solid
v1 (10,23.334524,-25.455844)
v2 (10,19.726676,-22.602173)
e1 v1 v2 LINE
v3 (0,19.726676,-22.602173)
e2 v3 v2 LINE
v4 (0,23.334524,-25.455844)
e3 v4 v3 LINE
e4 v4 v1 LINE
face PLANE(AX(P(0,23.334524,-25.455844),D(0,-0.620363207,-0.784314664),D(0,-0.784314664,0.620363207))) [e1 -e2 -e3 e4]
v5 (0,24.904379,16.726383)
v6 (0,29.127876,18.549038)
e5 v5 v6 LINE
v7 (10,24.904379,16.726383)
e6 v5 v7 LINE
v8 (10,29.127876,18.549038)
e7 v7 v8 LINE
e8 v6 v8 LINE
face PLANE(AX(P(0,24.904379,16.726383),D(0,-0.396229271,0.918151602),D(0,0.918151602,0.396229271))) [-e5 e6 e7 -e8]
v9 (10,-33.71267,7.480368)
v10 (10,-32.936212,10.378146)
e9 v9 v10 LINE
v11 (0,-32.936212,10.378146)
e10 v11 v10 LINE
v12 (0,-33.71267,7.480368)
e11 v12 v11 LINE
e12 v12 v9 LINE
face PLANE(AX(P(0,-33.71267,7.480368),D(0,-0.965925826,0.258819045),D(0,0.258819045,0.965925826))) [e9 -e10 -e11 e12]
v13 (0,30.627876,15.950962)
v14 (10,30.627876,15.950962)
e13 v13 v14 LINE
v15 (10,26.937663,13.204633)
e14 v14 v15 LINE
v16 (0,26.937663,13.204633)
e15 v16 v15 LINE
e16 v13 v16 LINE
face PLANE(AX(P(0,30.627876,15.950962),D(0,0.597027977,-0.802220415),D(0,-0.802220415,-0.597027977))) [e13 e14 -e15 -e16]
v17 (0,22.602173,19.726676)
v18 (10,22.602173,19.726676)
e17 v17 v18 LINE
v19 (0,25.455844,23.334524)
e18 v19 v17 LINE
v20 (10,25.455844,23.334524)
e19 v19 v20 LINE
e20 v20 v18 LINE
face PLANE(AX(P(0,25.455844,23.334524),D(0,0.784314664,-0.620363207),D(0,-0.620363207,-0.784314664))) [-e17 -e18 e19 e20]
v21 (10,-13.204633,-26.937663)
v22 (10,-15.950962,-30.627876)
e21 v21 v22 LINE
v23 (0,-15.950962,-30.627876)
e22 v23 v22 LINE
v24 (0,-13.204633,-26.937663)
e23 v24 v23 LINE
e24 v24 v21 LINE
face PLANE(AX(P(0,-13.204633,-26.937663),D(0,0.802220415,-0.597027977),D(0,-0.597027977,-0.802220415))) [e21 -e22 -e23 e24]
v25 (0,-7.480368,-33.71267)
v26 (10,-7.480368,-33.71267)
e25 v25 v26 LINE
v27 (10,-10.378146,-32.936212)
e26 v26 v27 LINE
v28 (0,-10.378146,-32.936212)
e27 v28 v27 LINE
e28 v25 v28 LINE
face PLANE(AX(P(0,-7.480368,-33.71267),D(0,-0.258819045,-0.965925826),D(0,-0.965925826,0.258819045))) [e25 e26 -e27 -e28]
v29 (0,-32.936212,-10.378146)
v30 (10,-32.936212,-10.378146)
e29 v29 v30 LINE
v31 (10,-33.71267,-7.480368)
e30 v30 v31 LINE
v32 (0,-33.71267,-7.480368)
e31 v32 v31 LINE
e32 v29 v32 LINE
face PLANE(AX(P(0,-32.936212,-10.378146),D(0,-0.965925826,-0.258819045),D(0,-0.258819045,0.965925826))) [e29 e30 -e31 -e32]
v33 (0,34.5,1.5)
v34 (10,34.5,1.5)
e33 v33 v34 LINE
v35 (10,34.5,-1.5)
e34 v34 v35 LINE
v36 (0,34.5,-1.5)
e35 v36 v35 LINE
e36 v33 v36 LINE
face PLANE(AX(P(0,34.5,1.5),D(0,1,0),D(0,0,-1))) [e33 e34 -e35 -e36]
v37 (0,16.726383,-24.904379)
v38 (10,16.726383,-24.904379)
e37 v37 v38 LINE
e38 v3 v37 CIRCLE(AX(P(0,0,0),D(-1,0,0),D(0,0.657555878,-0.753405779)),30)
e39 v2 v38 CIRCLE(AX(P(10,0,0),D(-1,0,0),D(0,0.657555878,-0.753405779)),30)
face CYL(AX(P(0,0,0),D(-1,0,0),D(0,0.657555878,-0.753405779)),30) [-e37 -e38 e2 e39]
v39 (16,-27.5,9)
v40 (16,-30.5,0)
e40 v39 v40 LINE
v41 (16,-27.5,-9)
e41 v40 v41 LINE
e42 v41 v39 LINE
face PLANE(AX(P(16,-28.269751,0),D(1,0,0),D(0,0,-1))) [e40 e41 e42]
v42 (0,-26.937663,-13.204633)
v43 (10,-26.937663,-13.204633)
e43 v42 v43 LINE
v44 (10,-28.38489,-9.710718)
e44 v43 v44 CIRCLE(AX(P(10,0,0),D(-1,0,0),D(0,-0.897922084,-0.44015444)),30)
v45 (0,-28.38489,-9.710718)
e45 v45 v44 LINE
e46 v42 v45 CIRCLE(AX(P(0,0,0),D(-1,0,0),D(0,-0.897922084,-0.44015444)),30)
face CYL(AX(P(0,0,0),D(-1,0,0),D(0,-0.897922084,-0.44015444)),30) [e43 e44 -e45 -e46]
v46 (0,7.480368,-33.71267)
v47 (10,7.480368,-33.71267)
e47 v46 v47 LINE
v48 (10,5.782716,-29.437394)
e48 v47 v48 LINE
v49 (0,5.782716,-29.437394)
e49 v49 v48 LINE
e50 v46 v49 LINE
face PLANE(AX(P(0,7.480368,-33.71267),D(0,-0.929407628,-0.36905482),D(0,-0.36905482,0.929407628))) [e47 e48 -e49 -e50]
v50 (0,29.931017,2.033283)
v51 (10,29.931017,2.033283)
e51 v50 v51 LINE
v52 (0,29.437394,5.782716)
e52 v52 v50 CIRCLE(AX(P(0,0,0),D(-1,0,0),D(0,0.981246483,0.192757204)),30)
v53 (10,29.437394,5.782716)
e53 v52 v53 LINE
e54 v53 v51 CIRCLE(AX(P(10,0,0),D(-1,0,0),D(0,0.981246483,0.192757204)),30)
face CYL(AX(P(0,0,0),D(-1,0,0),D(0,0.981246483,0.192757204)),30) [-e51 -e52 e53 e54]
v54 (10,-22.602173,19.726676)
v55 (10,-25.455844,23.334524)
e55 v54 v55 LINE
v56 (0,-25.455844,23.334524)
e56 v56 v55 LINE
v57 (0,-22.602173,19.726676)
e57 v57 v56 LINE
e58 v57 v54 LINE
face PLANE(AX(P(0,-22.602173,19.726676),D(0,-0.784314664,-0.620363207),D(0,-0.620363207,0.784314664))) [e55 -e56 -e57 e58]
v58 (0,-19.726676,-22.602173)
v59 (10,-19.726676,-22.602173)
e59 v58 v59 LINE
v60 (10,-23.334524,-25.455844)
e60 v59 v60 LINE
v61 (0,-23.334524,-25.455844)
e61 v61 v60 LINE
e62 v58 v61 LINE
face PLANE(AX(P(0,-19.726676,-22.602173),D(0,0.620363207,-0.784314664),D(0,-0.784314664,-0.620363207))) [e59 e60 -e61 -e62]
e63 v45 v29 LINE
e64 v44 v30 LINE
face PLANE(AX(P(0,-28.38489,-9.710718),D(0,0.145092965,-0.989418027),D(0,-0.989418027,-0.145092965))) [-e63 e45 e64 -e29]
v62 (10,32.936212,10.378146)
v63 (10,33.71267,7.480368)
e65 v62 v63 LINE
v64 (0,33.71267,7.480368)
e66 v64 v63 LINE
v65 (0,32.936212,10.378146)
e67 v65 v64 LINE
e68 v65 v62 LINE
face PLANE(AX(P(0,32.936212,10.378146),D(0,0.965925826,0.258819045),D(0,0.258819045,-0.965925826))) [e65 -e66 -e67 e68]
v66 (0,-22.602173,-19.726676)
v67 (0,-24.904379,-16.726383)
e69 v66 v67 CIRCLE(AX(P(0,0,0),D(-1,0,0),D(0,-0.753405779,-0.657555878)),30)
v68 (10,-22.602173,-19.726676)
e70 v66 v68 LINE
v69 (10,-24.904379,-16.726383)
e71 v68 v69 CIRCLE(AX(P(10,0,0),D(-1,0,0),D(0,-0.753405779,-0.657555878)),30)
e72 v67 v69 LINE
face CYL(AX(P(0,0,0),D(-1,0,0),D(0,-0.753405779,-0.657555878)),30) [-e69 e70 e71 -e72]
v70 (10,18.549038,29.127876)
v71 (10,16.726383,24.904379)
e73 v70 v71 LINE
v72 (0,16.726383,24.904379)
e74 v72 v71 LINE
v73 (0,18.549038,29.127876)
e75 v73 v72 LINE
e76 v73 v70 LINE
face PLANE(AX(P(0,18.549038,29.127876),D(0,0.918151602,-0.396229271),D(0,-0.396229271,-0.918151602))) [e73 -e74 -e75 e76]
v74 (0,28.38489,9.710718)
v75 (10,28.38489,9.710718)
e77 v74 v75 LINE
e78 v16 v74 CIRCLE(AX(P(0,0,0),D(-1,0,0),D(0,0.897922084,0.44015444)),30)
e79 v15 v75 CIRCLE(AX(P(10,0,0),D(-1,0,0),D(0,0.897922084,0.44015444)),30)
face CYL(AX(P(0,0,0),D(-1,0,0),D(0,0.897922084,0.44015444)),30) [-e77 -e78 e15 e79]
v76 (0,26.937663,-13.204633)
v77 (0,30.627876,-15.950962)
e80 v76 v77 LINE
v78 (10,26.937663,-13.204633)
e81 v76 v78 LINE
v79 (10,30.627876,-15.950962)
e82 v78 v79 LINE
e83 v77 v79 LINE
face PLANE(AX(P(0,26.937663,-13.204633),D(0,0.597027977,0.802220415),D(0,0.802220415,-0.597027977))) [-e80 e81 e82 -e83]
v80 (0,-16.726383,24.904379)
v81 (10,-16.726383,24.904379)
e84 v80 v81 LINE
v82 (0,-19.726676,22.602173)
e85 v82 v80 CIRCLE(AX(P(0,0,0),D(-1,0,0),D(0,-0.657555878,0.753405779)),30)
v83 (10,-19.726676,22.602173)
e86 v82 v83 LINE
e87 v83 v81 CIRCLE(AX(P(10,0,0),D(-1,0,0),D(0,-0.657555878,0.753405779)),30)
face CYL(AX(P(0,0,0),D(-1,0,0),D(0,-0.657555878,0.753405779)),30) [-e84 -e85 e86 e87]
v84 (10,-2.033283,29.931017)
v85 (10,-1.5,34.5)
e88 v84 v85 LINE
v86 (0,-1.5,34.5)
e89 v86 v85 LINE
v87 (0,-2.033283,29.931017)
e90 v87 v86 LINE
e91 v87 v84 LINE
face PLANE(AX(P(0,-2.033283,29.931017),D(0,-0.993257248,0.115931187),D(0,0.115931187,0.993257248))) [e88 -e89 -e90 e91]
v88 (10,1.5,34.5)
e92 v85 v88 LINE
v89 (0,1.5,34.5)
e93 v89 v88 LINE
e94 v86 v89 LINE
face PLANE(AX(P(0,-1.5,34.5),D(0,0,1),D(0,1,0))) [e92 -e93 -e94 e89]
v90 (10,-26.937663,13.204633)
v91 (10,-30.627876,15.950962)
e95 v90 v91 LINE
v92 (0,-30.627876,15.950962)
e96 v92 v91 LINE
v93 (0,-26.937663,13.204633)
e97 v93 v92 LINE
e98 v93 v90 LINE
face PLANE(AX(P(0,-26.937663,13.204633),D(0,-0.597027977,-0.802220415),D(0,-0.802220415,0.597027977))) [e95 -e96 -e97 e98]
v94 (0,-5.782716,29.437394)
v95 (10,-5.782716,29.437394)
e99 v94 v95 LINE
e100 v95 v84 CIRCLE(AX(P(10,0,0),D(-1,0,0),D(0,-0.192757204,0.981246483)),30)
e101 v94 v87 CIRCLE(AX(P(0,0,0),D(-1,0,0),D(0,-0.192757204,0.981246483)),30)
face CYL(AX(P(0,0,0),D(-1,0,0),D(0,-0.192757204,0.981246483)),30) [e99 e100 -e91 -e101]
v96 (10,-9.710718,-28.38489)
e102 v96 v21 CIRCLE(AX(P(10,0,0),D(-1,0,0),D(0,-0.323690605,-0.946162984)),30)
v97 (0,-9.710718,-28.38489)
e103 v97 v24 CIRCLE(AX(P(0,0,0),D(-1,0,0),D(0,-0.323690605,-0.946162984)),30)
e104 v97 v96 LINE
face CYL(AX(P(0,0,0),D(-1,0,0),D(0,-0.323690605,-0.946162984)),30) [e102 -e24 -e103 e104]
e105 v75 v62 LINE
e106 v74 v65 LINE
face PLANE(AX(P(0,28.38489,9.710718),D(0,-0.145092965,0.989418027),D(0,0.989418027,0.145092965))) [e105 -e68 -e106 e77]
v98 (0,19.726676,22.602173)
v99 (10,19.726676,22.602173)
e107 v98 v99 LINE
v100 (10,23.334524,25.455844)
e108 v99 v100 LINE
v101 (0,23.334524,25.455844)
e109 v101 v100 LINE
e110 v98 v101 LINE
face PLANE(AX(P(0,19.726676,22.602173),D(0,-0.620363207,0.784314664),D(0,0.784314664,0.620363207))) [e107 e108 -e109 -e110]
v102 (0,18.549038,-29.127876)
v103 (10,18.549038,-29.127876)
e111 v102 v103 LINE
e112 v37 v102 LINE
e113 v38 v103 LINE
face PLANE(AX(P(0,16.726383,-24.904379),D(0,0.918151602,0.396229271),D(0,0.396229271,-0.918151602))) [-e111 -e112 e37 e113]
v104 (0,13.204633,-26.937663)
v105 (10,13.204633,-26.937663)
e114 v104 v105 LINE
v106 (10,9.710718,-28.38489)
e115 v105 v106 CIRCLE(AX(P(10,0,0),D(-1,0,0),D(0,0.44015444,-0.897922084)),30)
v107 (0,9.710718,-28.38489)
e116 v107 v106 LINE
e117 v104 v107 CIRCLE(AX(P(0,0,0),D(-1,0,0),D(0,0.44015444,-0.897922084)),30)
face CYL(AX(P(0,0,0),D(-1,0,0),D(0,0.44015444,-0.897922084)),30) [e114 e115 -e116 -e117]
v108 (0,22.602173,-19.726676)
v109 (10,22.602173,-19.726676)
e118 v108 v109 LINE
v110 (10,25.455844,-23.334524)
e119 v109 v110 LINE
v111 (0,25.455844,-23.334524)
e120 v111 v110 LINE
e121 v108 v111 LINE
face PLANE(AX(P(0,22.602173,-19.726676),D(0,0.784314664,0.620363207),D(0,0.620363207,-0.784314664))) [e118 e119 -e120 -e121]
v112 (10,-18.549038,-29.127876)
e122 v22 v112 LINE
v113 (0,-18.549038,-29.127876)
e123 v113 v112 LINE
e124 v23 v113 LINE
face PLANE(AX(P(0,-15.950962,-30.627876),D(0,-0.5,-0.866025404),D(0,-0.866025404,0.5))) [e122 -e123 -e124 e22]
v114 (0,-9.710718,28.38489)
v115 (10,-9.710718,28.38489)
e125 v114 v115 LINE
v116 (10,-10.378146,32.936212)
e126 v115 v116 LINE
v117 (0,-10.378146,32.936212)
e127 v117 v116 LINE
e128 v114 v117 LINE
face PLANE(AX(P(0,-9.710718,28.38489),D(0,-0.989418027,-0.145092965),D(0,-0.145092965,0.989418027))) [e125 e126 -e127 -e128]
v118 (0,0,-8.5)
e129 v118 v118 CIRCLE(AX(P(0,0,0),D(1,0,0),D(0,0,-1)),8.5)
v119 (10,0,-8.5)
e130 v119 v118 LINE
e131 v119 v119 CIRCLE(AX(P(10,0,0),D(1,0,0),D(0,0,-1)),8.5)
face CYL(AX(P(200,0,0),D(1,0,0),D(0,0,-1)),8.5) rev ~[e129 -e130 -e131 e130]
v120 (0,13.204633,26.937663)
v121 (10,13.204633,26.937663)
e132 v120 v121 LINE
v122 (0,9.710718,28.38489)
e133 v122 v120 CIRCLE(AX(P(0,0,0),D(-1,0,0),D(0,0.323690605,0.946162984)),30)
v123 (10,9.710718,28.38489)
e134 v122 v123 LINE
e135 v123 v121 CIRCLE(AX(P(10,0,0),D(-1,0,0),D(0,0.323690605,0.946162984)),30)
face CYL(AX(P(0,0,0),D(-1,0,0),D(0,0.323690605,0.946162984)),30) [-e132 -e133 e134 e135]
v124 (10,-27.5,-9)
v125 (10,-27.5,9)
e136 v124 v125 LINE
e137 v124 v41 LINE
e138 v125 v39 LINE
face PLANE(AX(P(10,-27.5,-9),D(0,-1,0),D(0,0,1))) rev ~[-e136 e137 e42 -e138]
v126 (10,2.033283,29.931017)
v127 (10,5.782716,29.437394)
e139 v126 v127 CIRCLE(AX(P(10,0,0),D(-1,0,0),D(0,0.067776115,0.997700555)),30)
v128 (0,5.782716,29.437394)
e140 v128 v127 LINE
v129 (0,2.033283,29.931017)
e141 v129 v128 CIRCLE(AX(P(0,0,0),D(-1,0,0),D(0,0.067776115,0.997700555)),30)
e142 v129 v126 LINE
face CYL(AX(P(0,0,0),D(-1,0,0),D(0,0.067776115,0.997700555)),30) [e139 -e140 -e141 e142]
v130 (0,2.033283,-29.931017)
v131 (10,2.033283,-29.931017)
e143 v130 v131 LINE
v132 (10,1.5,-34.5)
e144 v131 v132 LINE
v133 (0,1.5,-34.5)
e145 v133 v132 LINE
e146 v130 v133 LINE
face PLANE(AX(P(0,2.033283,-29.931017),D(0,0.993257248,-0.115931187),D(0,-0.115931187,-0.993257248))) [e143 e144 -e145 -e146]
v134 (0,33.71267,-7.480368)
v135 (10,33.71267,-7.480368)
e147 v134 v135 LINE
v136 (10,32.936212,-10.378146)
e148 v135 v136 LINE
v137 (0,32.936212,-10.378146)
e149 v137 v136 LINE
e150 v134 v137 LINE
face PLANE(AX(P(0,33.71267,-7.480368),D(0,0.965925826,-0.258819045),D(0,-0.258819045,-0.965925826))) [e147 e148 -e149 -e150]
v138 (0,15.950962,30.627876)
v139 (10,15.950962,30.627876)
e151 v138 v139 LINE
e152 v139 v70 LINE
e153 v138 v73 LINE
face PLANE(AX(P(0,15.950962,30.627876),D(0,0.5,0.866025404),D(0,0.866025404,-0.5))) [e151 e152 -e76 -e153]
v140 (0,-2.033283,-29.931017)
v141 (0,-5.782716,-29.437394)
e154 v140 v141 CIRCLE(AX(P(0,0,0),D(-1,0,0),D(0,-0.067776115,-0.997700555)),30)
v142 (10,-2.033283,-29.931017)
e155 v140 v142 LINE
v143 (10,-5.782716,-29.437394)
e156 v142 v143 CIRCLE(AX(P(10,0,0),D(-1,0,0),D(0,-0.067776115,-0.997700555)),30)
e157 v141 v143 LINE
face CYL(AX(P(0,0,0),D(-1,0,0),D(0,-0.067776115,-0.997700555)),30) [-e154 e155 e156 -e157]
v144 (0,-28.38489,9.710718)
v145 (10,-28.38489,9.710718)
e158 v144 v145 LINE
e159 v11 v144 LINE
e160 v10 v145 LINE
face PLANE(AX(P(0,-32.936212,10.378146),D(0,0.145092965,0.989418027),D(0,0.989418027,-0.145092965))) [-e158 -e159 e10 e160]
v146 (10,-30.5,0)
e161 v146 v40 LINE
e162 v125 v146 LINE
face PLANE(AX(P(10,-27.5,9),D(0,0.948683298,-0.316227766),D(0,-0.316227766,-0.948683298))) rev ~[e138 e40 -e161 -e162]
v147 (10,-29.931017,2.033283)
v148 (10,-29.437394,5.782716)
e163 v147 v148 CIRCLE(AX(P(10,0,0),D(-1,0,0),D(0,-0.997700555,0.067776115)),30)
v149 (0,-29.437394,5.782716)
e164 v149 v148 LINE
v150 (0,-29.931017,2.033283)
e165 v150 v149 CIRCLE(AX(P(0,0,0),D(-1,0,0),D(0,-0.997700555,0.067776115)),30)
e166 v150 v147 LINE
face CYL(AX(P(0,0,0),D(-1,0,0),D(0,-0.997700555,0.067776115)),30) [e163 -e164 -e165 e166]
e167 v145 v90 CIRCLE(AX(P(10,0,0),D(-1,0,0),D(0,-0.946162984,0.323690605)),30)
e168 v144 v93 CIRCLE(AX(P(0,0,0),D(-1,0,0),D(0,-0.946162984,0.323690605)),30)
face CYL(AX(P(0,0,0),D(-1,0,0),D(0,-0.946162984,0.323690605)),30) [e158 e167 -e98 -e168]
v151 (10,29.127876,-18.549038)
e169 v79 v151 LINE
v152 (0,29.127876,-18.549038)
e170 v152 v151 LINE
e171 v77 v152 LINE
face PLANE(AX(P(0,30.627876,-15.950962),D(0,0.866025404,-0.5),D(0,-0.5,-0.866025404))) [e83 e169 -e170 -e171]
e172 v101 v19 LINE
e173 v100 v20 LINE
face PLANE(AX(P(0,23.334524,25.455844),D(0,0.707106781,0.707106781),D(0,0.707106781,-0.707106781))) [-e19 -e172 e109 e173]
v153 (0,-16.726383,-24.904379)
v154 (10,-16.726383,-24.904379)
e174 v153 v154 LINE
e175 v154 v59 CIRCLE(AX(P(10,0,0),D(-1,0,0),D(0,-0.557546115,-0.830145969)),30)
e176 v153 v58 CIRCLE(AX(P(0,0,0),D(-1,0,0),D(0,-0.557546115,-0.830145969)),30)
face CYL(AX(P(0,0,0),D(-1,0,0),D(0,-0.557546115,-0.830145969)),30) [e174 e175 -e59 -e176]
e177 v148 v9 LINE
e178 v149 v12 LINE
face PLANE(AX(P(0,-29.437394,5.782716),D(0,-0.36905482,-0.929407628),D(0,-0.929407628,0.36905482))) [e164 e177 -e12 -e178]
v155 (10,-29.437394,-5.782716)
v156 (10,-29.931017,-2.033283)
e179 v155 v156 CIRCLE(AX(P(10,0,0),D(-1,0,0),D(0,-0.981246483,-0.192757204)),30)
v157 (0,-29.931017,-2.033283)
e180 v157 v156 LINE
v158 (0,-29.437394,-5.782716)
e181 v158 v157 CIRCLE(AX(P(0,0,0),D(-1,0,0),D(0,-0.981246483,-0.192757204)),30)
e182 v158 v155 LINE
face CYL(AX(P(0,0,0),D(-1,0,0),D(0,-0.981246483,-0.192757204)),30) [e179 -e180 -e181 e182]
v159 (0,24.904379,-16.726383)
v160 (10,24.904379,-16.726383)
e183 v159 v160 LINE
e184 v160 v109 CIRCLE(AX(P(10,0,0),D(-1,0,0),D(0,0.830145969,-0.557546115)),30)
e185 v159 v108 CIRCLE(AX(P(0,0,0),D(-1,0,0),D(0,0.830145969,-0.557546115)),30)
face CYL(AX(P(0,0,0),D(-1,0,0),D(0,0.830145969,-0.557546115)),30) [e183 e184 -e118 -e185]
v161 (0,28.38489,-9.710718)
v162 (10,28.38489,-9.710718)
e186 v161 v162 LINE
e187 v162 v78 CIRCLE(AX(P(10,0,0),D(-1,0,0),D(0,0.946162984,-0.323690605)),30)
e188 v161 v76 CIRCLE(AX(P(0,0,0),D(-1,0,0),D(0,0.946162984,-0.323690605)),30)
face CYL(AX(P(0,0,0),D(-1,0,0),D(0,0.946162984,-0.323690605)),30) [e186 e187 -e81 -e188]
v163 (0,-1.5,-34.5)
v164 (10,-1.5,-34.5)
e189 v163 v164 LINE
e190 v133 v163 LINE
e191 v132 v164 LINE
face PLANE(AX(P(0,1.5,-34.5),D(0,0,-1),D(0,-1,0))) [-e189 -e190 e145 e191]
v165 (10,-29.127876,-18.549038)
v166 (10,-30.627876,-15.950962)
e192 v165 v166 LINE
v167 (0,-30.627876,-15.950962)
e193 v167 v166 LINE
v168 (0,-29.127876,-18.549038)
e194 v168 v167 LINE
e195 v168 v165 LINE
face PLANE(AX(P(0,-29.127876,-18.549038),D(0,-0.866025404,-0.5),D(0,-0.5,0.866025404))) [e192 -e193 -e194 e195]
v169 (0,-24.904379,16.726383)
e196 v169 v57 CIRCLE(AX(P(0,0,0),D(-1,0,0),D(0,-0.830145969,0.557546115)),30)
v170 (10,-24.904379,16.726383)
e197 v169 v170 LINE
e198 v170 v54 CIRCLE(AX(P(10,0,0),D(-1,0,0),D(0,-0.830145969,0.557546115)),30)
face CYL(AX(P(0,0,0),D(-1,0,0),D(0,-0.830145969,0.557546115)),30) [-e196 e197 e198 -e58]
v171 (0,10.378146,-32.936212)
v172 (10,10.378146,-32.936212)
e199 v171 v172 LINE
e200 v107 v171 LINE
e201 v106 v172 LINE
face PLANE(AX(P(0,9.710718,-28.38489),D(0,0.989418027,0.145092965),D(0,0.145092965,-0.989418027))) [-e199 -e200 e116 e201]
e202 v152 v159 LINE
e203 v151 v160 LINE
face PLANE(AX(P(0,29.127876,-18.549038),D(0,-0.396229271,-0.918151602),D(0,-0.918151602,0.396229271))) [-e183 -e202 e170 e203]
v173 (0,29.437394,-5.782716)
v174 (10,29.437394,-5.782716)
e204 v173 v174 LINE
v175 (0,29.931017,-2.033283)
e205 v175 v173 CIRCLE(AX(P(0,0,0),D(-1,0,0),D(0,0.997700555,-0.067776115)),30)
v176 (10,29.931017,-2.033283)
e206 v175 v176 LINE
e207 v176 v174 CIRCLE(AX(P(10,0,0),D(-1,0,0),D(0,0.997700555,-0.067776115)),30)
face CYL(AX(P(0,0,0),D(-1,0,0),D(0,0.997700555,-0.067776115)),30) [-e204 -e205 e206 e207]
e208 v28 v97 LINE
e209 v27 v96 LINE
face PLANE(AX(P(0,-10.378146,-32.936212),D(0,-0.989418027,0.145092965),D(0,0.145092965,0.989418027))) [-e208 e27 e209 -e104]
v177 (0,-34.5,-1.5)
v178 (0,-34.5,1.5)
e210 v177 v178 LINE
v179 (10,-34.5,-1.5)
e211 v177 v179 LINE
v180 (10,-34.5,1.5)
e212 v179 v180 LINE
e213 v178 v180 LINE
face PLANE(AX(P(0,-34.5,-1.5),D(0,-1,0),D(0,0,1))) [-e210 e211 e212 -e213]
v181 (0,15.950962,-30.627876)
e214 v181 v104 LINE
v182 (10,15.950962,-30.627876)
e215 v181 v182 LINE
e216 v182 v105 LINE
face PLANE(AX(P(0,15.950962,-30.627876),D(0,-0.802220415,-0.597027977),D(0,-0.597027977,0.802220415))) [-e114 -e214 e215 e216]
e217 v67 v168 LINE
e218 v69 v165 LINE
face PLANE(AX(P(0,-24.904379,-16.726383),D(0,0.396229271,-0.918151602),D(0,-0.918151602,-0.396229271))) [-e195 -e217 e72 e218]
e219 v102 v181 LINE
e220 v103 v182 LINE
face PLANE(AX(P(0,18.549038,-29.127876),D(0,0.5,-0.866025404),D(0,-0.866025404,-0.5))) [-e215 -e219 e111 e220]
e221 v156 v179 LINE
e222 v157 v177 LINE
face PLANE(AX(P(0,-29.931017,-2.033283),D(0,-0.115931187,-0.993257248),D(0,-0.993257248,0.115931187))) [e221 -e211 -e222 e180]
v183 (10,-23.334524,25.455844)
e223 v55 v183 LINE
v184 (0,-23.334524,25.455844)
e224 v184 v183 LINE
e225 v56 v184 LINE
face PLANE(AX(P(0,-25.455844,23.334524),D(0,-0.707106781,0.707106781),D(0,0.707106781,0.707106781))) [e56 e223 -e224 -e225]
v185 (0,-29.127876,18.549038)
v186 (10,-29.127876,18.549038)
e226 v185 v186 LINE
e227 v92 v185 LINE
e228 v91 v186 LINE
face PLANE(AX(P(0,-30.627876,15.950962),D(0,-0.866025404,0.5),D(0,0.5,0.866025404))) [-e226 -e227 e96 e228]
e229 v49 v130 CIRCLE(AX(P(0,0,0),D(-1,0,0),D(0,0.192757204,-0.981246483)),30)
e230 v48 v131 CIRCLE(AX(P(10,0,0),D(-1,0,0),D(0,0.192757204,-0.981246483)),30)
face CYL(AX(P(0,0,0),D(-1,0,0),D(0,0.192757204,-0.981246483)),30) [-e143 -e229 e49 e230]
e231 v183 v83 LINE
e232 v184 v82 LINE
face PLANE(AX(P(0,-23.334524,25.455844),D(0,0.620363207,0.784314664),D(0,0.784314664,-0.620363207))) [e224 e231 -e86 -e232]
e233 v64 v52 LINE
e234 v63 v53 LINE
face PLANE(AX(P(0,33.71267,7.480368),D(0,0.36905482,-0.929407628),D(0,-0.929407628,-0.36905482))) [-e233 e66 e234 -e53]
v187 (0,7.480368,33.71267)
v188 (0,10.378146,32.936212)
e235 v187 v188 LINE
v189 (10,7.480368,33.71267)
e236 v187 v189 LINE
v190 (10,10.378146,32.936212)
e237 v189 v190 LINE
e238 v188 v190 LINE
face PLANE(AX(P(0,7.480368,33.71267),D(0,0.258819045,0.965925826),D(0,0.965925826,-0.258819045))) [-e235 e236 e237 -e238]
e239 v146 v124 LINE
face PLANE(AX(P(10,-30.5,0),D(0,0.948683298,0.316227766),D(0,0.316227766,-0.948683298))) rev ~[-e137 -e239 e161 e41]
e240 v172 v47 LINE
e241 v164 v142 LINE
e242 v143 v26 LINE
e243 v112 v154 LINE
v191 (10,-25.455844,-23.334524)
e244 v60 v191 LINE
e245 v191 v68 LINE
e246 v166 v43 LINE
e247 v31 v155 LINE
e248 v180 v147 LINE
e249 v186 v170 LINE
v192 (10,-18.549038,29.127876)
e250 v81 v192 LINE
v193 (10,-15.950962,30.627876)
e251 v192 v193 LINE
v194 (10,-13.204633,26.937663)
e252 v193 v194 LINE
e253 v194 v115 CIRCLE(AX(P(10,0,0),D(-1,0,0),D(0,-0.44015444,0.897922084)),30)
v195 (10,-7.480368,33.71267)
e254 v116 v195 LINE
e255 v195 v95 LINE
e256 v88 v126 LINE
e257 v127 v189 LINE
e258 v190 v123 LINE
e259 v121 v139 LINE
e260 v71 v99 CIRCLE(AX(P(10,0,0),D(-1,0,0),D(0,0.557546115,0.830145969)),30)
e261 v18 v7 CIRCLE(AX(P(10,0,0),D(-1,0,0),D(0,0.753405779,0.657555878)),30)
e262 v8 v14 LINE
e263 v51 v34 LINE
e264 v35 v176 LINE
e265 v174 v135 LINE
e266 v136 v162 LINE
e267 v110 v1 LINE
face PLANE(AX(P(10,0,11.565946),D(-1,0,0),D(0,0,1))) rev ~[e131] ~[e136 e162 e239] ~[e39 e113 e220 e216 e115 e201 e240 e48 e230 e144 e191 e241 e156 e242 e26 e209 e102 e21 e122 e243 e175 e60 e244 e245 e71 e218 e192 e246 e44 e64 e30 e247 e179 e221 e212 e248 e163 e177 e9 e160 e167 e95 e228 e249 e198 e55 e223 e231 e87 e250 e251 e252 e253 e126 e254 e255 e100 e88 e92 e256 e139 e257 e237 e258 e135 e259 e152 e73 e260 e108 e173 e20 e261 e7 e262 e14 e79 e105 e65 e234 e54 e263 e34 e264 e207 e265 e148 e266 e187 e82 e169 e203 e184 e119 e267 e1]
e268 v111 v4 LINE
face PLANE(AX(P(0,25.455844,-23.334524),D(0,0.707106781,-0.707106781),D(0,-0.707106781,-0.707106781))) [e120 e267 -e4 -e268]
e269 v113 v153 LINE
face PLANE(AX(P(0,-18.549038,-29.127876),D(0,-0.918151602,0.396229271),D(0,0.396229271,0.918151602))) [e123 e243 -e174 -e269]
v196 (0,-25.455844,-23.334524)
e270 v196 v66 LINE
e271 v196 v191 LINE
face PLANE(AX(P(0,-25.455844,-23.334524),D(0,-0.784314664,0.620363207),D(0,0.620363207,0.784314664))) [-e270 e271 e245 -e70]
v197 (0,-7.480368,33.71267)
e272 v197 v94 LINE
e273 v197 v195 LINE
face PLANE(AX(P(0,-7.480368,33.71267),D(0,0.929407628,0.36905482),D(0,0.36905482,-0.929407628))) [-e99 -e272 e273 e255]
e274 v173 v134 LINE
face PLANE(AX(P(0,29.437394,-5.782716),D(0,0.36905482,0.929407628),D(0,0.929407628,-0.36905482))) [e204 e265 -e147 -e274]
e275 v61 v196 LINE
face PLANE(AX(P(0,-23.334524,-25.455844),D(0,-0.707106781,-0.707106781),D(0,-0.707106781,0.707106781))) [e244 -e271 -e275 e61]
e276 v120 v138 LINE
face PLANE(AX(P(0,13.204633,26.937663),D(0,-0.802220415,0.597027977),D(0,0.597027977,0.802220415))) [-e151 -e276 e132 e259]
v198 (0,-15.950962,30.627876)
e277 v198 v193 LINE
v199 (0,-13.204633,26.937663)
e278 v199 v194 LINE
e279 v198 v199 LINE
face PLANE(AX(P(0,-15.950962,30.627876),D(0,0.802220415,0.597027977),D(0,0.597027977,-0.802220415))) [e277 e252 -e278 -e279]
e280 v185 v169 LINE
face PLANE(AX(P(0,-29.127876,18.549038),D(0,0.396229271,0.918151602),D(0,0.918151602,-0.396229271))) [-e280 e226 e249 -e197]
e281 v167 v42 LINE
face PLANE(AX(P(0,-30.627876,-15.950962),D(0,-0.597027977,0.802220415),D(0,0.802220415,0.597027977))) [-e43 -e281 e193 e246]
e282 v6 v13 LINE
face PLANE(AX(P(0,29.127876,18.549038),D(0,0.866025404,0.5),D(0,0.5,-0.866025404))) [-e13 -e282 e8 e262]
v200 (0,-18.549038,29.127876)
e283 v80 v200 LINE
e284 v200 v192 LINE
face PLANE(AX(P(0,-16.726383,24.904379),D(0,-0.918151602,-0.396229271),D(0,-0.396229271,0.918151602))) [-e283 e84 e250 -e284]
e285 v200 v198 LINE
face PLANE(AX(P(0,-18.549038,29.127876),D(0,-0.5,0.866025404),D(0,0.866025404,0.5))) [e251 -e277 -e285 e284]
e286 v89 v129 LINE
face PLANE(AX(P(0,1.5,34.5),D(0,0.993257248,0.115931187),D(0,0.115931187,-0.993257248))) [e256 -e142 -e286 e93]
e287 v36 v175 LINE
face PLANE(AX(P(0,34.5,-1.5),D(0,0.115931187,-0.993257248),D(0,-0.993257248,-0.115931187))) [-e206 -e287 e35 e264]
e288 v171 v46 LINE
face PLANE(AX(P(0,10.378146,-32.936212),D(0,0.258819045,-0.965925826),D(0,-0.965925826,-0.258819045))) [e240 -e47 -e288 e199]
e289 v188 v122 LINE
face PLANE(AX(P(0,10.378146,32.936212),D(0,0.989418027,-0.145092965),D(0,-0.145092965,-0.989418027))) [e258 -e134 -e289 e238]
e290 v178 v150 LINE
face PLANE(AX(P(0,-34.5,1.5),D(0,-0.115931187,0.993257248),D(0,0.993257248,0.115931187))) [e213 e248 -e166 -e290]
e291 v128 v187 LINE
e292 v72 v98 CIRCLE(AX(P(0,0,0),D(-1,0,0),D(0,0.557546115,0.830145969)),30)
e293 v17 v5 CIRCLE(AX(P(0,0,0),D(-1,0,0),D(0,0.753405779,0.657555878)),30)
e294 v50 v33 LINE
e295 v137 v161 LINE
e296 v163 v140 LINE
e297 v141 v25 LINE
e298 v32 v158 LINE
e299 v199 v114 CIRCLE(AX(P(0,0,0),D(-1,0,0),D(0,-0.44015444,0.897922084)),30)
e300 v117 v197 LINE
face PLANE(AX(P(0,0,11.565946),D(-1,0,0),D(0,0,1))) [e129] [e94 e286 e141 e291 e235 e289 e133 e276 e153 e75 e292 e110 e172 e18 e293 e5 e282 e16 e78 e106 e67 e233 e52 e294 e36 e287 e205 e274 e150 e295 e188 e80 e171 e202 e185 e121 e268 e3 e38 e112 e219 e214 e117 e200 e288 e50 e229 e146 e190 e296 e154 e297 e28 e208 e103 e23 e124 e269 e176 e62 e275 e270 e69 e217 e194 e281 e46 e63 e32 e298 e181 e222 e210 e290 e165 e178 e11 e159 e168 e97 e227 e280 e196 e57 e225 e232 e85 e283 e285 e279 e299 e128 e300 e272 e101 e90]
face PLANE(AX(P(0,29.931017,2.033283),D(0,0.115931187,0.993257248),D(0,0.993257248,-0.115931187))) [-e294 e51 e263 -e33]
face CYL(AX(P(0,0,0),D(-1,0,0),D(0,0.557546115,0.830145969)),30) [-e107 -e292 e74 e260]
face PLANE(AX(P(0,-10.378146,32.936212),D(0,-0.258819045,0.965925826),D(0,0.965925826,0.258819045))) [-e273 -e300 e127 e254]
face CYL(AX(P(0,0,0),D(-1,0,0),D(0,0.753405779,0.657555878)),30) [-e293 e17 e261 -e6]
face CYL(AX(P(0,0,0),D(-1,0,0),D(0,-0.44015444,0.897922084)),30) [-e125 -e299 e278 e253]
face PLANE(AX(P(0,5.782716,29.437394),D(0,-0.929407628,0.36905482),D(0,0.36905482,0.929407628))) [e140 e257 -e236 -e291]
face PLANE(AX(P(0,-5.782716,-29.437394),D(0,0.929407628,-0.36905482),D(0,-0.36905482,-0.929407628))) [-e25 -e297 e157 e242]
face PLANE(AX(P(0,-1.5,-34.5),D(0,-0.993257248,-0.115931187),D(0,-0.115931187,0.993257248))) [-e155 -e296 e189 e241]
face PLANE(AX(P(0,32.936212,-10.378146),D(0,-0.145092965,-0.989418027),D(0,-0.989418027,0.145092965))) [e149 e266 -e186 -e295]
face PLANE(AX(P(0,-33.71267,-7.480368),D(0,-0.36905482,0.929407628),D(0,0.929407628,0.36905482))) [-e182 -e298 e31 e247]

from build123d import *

# Parameters (mm, degrees)
SKETCH2_R           = 5
BOSS_EXTRUDE1_DEPTH = 100
SKETCH8_R           = 5
BOSS_EXTRUDE3_DEPTH = 10
SKETCH9_R           = 5
BOSS_EXTRUDE4_DEPTH = 100
BOSS_EXTRUDE5_START = 100
SKETCH4_R           = 5
BOSS_EXTRUDE5_DEPTH = 100
SKETCH17_R          = 8.5
CUT_EXTRUDE1_DEPTH  = 305
BOSS_EXTRUDE8_DEPTH = 6


with BuildPart() as part:
    # Sketch2 → Boss-Extrude1 (new body)
    with BuildSketch(Plane(origin=(0, 0, 0), x_dir=(0, 0, -1), z_dir=(1, 0, 0))):
        Circle(SKETCH2_R)
    extrude(amount=BOSS_EXTRUDE1_DEPTH)

    # Sketch8 → Boss-Extrude3 (add)
    with BuildSketch(Plane.ZY):
        with BuildLine():
            ThreePointArc((5.782716145, 29.437394484), (3.915785767, 29.743345841), (2.03328346, 29.931016661))
            Line((2.03328346, 29.931016661), (1.5, 34.5))
            Line((1.5, 34.5), (-1.5, 34.5))
            Line((-1.5, 34.5), (-2.03328346, 29.931016661))
            ThreePointArc((-2.03328346, 29.931016661), (-3.915785767, 29.743345841), (-5.782716145, 29.437394484))
            Line((-5.782716145, 29.437394484), (-7.480368317, 33.712669575))
            Line((-7.480368317, 33.712669575), (-10.378145795, 32.936212439))
            Line((-10.378145795, 32.936212439), (-9.710718158, 28.384889516))
            ThreePointArc((-9.710718158, 28.384889516), (-11.480502971, 27.716385975), (-13.204633201, 26.93766252))
            Line((-13.204633201, 26.93766252), (-15.950961894, 30.627876431))
            Line((-15.950961894, 30.627876431), (-18.549038106, 29.127876431))
            Line((-18.549038106, 29.127876431), (-16.72638346, 24.904379059))
            ThreePointArc((-16.72638346, 24.904379059), (-18.26284287, 23.800600209), (-19.726676326, 22.602173372))
            Line((-19.726676326, 22.602173372), (-23.334523779, 25.455844123))
            Line((-23.334523779, 25.455844123), (-25.455844123, 23.334523779))
            Line((-25.455844123, 23.334523779), (-22.602173372, 19.726676326))
            ThreePointArc((-22.602173372, 19.726676326), (-23.800600209, 18.26284287), (-24.904379059, 16.72638346))
            Line((-24.904379059, 16.72638346), (-29.127876431, 18.549038106))
            Line((-29.127876431, 18.549038106), (-30.627876431, 15.950961894))
            Line((-30.627876431, 15.950961894), (-26.93766252, 13.204633201))
            ThreePointArc((-26.93766252, 13.204633201), (-27.716385975, 11.480502971), (-28.384889516, 9.710718158))
            Line((-28.384889516, 9.710718158), (-32.936212439, 10.378145795))
            Line((-32.936212439, 10.378145795), (-33.712669575, 7.480368317))
            Line((-33.712669575, 7.480368317), (-29.437394484, 5.782716145))
            ThreePointArc((-29.437394484, 5.782716145), (-29.743345841, 3.915785767), (-29.931016661, 2.03328346))
            Line((-29.931016661, 2.03328346), (-34.5, 1.5))
            Line((-34.5, 1.5), (-34.5, -1.5))
            Line((-34.5, -1.5), (-29.931016661, -2.03328346))
            ThreePointArc((-29.931016661, -2.03328346), (-29.743345841, -3.915785767), (-29.437394484, -5.782716145))
            Line((-29.437394484, -5.782716145), (-33.712669575, -7.480368317))
            Line((-33.712669575, -7.480368317), (-32.936212439, -10.378145795))
            Line((-32.936212439, -10.378145795), (-28.384889516, -9.710718158))
            ThreePointArc((-28.384889516, -9.710718158), (-27.716385975, -11.480502971), (-26.93766252, -13.204633201))
            Line((-26.93766252, -13.204633201), (-30.627876431, -15.950961894))
            Line((-30.627876431, -15.950961894), (-29.127876431, -18.549038106))
            Line((-29.127876431, -18.549038106), (-24.904379059, -16.72638346))
            ThreePointArc((-24.904379059, -16.72638346), (-23.800600209, -18.26284287), (-22.602173372, -19.726676326))
            Line((-22.602173372, -19.726676326), (-25.455844123, -23.334523779))
            Line((-25.455844123, -23.334523779), (-23.334523779, -25.455844123))
            Line((-23.334523779, -25.455844123), (-19.726676326, -22.602173372))
            ThreePointArc((-19.726676326, -22.602173372), (-18.26284287, -23.800600209), (-16.72638346, -24.904379059))
            Line((-16.72638346, -24.904379059), (-18.549038106, -29.127876431))
            Line((-18.549038106, -29.127876431), (-15.950961894, -30.627876431))
            Line((-15.950961894, -30.627876431), (-13.204633201, -26.93766252))
            ThreePointArc((-13.204633201, -26.93766252), (-11.480502971, -27.716385975), (-9.710718158, -28.384889516))
            Line((-9.710718158, -28.384889516), (-10.378145795, -32.936212439))
            Line((-10.378145795, -32.936212439), (-7.480368317, -33.712669575))
            Line((-7.480368317, -33.712669575), (-5.782716145, -29.437394484))
            ThreePointArc((-5.782716145, -29.437394484), (-3.915785767, -29.743345841), (-2.03328346, -29.931016661))
            Line((-2.03328346, -29.931016661), (-1.5, -34.5))
            Line((-1.5, -34.5), (1.5, -34.5))
            Line((1.5, -34.5), (2.03328346, -29.931016661))
            ThreePointArc((2.03328346, -29.931016661), (3.915785767, -29.743345841), (5.782716145, -29.437394484))
            Line((5.782716145, -29.437394484), (7.480368317, -33.712669575))
            Line((7.480368317, -33.712669575), (10.378145795, -32.936212439))
            Line((10.378145795, -32.936212439), (9.710718158, -28.384889516))
            ThreePointArc((9.710718158, -28.384889516), (11.480502971, -27.716385975), (13.204633201, -26.93766252))
            Line((13.204633201, -26.93766252), (15.950961894, -30.627876431))
            Line((15.950961894, -30.627876431), (18.549038106, -29.127876431))
            Line((18.549038106, -29.127876431), (16.72638346, -24.904379059))
            ThreePointArc((16.72638346, -24.904379059), (18.26284287, -23.800600209), (19.726676326, -22.602173372))
            Line((19.726676326, -22.602173372), (23.334523779, -25.455844123))
            Line((23.334523779, -25.455844123), (25.455844123, -23.334523779))
            Line((25.455844123, -23.334523779), (22.602173372, -19.726676326))
            ThreePointArc((22.602173372, -19.726676326), (23.800600209, -18.26284287), (24.904379059, -16.72638346))
            Line((24.904379059, -16.72638346), (29.127876431, -18.549038106))
            Line((29.127876431, -18.549038106), (30.627876431, -15.950961894))
            Line((30.627876431, -15.950961894), (26.93766252, -13.204633201))
            ThreePointArc((26.93766252, -13.204633201), (27.716385975, -11.480502971), (28.384889516, -9.710718158))
            Line((28.384889516, -9.710718158), (32.936212439, -10.378145795))
            Line((32.936212439, -10.378145795), (33.712669575, -7.480368317))
            Line((33.712669575, -7.480368317), (29.437394484, -5.782716145))
            ThreePointArc((29.437394484, -5.782716145), (29.743345841, -3.915785767), (29.931016661, -2.03328346))
            Line((29.931016661, -2.03328346), (34.5, -1.5))
            Line((34.5, -1.5), (34.5, 1.5))
            Line((34.5, 1.5), (29.931016661, 2.03328346))
            ThreePointArc((29.931016661, 2.03328346), (29.743345841, 3.915785767), (29.437394484, 5.782716145))
            Line((29.437394484, 5.782716145), (33.712669575, 7.480368317))
            Line((33.712669575, 7.480368317), (32.936212439, 10.378145795))
            Line((32.936212439, 10.378145795), (28.384889516, 9.710718158))
            ThreePointArc((28.384889516, 9.710718158), (27.716385975, 11.480502971), (26.93766252, 13.204633201))
            Line((26.93766252, 13.204633201), (30.627876431, 15.950961894))
            Line((30.627876431, 15.950961894), (29.127876431, 18.549038106))
            Line((29.127876431, 18.549038106), (24.904379059, 16.72638346))
            ThreePointArc((24.904379059, 16.72638346), (23.800600209, 18.26284287), (22.602173372, 19.726676326))
            Line((22.602173372, 19.726676326), (25.455844123, 23.334523779))
            Line((25.455844123, 23.334523779), (23.334523779, 25.455844123))
            Line((23.334523779, 25.455844123), (19.726676326, 22.602173372))
            ThreePointArc((19.726676326, 22.602173372), (18.26284287, 23.800600209), (16.72638346, 24.904379059))
            Line((16.72638346, 24.904379059), (18.549038106, 29.127876431))
            Line((18.549038106, 29.127876431), (15.950961894, 30.627876431))
            Line((15.950961894, 30.627876431), (13.204633201, 26.93766252))
            ThreePointArc((13.204633201, 26.93766252), (11.480502971, 27.716385975), (9.710718158, 28.384889516))
            Line((9.710718158, 28.384889516), (10.378145795, 32.936212439))
            Line((10.378145795, 32.936212439), (7.480368317, 33.712669575))
            Line((7.480368317, 33.712669575), (5.782716145, 29.437394484))
        make_face()
        Circle(SKETCH8_R, mode=Mode.SUBTRACT)
    extrude(amount=-BOSS_EXTRUDE3_DEPTH)

    # Sketch9 → Boss-Extrude4 (add)
    with BuildSketch(Plane(origin=(100, 0, 0), x_dir=(0, 0, -1), z_dir=(1, 0, 0))):
        Circle(SKETCH9_R)
    extrude(amount=BOSS_EXTRUDE4_DEPTH)

    # Sketch4 → Boss-Extrude5 (add)
    with BuildSketch(Plane.ZY.offset(BOSS_EXTRUDE5_START)):
        Circle(SKETCH4_R)
    extrude(amount=-BOSS_EXTRUDE5_DEPTH)

    # Sketch17 → Cut-Extrude1 (cut)
    with BuildSketch(Plane(origin=(200, 0, 0), x_dir=(0, 0, -1), z_dir=(1, 0, 0))):
        Circle(SKETCH17_R)
    extrude(amount=-CUT_EXTRUDE1_DEPTH, mode=Mode.SUBTRACT)

    # Sketch18 → Boss-Extrude8 (add)
    with BuildSketch(Plane(origin=(10, 0, 0), x_dir=(0, 0, -1), z_dir=(1, 0, 0))):
        Polygon((0, -30.5), (9, -27.5), (-9, -27.5), align=None)
    extrude(amount=BOSS_EXTRUDE8_DEPTH)


solid = part.part
